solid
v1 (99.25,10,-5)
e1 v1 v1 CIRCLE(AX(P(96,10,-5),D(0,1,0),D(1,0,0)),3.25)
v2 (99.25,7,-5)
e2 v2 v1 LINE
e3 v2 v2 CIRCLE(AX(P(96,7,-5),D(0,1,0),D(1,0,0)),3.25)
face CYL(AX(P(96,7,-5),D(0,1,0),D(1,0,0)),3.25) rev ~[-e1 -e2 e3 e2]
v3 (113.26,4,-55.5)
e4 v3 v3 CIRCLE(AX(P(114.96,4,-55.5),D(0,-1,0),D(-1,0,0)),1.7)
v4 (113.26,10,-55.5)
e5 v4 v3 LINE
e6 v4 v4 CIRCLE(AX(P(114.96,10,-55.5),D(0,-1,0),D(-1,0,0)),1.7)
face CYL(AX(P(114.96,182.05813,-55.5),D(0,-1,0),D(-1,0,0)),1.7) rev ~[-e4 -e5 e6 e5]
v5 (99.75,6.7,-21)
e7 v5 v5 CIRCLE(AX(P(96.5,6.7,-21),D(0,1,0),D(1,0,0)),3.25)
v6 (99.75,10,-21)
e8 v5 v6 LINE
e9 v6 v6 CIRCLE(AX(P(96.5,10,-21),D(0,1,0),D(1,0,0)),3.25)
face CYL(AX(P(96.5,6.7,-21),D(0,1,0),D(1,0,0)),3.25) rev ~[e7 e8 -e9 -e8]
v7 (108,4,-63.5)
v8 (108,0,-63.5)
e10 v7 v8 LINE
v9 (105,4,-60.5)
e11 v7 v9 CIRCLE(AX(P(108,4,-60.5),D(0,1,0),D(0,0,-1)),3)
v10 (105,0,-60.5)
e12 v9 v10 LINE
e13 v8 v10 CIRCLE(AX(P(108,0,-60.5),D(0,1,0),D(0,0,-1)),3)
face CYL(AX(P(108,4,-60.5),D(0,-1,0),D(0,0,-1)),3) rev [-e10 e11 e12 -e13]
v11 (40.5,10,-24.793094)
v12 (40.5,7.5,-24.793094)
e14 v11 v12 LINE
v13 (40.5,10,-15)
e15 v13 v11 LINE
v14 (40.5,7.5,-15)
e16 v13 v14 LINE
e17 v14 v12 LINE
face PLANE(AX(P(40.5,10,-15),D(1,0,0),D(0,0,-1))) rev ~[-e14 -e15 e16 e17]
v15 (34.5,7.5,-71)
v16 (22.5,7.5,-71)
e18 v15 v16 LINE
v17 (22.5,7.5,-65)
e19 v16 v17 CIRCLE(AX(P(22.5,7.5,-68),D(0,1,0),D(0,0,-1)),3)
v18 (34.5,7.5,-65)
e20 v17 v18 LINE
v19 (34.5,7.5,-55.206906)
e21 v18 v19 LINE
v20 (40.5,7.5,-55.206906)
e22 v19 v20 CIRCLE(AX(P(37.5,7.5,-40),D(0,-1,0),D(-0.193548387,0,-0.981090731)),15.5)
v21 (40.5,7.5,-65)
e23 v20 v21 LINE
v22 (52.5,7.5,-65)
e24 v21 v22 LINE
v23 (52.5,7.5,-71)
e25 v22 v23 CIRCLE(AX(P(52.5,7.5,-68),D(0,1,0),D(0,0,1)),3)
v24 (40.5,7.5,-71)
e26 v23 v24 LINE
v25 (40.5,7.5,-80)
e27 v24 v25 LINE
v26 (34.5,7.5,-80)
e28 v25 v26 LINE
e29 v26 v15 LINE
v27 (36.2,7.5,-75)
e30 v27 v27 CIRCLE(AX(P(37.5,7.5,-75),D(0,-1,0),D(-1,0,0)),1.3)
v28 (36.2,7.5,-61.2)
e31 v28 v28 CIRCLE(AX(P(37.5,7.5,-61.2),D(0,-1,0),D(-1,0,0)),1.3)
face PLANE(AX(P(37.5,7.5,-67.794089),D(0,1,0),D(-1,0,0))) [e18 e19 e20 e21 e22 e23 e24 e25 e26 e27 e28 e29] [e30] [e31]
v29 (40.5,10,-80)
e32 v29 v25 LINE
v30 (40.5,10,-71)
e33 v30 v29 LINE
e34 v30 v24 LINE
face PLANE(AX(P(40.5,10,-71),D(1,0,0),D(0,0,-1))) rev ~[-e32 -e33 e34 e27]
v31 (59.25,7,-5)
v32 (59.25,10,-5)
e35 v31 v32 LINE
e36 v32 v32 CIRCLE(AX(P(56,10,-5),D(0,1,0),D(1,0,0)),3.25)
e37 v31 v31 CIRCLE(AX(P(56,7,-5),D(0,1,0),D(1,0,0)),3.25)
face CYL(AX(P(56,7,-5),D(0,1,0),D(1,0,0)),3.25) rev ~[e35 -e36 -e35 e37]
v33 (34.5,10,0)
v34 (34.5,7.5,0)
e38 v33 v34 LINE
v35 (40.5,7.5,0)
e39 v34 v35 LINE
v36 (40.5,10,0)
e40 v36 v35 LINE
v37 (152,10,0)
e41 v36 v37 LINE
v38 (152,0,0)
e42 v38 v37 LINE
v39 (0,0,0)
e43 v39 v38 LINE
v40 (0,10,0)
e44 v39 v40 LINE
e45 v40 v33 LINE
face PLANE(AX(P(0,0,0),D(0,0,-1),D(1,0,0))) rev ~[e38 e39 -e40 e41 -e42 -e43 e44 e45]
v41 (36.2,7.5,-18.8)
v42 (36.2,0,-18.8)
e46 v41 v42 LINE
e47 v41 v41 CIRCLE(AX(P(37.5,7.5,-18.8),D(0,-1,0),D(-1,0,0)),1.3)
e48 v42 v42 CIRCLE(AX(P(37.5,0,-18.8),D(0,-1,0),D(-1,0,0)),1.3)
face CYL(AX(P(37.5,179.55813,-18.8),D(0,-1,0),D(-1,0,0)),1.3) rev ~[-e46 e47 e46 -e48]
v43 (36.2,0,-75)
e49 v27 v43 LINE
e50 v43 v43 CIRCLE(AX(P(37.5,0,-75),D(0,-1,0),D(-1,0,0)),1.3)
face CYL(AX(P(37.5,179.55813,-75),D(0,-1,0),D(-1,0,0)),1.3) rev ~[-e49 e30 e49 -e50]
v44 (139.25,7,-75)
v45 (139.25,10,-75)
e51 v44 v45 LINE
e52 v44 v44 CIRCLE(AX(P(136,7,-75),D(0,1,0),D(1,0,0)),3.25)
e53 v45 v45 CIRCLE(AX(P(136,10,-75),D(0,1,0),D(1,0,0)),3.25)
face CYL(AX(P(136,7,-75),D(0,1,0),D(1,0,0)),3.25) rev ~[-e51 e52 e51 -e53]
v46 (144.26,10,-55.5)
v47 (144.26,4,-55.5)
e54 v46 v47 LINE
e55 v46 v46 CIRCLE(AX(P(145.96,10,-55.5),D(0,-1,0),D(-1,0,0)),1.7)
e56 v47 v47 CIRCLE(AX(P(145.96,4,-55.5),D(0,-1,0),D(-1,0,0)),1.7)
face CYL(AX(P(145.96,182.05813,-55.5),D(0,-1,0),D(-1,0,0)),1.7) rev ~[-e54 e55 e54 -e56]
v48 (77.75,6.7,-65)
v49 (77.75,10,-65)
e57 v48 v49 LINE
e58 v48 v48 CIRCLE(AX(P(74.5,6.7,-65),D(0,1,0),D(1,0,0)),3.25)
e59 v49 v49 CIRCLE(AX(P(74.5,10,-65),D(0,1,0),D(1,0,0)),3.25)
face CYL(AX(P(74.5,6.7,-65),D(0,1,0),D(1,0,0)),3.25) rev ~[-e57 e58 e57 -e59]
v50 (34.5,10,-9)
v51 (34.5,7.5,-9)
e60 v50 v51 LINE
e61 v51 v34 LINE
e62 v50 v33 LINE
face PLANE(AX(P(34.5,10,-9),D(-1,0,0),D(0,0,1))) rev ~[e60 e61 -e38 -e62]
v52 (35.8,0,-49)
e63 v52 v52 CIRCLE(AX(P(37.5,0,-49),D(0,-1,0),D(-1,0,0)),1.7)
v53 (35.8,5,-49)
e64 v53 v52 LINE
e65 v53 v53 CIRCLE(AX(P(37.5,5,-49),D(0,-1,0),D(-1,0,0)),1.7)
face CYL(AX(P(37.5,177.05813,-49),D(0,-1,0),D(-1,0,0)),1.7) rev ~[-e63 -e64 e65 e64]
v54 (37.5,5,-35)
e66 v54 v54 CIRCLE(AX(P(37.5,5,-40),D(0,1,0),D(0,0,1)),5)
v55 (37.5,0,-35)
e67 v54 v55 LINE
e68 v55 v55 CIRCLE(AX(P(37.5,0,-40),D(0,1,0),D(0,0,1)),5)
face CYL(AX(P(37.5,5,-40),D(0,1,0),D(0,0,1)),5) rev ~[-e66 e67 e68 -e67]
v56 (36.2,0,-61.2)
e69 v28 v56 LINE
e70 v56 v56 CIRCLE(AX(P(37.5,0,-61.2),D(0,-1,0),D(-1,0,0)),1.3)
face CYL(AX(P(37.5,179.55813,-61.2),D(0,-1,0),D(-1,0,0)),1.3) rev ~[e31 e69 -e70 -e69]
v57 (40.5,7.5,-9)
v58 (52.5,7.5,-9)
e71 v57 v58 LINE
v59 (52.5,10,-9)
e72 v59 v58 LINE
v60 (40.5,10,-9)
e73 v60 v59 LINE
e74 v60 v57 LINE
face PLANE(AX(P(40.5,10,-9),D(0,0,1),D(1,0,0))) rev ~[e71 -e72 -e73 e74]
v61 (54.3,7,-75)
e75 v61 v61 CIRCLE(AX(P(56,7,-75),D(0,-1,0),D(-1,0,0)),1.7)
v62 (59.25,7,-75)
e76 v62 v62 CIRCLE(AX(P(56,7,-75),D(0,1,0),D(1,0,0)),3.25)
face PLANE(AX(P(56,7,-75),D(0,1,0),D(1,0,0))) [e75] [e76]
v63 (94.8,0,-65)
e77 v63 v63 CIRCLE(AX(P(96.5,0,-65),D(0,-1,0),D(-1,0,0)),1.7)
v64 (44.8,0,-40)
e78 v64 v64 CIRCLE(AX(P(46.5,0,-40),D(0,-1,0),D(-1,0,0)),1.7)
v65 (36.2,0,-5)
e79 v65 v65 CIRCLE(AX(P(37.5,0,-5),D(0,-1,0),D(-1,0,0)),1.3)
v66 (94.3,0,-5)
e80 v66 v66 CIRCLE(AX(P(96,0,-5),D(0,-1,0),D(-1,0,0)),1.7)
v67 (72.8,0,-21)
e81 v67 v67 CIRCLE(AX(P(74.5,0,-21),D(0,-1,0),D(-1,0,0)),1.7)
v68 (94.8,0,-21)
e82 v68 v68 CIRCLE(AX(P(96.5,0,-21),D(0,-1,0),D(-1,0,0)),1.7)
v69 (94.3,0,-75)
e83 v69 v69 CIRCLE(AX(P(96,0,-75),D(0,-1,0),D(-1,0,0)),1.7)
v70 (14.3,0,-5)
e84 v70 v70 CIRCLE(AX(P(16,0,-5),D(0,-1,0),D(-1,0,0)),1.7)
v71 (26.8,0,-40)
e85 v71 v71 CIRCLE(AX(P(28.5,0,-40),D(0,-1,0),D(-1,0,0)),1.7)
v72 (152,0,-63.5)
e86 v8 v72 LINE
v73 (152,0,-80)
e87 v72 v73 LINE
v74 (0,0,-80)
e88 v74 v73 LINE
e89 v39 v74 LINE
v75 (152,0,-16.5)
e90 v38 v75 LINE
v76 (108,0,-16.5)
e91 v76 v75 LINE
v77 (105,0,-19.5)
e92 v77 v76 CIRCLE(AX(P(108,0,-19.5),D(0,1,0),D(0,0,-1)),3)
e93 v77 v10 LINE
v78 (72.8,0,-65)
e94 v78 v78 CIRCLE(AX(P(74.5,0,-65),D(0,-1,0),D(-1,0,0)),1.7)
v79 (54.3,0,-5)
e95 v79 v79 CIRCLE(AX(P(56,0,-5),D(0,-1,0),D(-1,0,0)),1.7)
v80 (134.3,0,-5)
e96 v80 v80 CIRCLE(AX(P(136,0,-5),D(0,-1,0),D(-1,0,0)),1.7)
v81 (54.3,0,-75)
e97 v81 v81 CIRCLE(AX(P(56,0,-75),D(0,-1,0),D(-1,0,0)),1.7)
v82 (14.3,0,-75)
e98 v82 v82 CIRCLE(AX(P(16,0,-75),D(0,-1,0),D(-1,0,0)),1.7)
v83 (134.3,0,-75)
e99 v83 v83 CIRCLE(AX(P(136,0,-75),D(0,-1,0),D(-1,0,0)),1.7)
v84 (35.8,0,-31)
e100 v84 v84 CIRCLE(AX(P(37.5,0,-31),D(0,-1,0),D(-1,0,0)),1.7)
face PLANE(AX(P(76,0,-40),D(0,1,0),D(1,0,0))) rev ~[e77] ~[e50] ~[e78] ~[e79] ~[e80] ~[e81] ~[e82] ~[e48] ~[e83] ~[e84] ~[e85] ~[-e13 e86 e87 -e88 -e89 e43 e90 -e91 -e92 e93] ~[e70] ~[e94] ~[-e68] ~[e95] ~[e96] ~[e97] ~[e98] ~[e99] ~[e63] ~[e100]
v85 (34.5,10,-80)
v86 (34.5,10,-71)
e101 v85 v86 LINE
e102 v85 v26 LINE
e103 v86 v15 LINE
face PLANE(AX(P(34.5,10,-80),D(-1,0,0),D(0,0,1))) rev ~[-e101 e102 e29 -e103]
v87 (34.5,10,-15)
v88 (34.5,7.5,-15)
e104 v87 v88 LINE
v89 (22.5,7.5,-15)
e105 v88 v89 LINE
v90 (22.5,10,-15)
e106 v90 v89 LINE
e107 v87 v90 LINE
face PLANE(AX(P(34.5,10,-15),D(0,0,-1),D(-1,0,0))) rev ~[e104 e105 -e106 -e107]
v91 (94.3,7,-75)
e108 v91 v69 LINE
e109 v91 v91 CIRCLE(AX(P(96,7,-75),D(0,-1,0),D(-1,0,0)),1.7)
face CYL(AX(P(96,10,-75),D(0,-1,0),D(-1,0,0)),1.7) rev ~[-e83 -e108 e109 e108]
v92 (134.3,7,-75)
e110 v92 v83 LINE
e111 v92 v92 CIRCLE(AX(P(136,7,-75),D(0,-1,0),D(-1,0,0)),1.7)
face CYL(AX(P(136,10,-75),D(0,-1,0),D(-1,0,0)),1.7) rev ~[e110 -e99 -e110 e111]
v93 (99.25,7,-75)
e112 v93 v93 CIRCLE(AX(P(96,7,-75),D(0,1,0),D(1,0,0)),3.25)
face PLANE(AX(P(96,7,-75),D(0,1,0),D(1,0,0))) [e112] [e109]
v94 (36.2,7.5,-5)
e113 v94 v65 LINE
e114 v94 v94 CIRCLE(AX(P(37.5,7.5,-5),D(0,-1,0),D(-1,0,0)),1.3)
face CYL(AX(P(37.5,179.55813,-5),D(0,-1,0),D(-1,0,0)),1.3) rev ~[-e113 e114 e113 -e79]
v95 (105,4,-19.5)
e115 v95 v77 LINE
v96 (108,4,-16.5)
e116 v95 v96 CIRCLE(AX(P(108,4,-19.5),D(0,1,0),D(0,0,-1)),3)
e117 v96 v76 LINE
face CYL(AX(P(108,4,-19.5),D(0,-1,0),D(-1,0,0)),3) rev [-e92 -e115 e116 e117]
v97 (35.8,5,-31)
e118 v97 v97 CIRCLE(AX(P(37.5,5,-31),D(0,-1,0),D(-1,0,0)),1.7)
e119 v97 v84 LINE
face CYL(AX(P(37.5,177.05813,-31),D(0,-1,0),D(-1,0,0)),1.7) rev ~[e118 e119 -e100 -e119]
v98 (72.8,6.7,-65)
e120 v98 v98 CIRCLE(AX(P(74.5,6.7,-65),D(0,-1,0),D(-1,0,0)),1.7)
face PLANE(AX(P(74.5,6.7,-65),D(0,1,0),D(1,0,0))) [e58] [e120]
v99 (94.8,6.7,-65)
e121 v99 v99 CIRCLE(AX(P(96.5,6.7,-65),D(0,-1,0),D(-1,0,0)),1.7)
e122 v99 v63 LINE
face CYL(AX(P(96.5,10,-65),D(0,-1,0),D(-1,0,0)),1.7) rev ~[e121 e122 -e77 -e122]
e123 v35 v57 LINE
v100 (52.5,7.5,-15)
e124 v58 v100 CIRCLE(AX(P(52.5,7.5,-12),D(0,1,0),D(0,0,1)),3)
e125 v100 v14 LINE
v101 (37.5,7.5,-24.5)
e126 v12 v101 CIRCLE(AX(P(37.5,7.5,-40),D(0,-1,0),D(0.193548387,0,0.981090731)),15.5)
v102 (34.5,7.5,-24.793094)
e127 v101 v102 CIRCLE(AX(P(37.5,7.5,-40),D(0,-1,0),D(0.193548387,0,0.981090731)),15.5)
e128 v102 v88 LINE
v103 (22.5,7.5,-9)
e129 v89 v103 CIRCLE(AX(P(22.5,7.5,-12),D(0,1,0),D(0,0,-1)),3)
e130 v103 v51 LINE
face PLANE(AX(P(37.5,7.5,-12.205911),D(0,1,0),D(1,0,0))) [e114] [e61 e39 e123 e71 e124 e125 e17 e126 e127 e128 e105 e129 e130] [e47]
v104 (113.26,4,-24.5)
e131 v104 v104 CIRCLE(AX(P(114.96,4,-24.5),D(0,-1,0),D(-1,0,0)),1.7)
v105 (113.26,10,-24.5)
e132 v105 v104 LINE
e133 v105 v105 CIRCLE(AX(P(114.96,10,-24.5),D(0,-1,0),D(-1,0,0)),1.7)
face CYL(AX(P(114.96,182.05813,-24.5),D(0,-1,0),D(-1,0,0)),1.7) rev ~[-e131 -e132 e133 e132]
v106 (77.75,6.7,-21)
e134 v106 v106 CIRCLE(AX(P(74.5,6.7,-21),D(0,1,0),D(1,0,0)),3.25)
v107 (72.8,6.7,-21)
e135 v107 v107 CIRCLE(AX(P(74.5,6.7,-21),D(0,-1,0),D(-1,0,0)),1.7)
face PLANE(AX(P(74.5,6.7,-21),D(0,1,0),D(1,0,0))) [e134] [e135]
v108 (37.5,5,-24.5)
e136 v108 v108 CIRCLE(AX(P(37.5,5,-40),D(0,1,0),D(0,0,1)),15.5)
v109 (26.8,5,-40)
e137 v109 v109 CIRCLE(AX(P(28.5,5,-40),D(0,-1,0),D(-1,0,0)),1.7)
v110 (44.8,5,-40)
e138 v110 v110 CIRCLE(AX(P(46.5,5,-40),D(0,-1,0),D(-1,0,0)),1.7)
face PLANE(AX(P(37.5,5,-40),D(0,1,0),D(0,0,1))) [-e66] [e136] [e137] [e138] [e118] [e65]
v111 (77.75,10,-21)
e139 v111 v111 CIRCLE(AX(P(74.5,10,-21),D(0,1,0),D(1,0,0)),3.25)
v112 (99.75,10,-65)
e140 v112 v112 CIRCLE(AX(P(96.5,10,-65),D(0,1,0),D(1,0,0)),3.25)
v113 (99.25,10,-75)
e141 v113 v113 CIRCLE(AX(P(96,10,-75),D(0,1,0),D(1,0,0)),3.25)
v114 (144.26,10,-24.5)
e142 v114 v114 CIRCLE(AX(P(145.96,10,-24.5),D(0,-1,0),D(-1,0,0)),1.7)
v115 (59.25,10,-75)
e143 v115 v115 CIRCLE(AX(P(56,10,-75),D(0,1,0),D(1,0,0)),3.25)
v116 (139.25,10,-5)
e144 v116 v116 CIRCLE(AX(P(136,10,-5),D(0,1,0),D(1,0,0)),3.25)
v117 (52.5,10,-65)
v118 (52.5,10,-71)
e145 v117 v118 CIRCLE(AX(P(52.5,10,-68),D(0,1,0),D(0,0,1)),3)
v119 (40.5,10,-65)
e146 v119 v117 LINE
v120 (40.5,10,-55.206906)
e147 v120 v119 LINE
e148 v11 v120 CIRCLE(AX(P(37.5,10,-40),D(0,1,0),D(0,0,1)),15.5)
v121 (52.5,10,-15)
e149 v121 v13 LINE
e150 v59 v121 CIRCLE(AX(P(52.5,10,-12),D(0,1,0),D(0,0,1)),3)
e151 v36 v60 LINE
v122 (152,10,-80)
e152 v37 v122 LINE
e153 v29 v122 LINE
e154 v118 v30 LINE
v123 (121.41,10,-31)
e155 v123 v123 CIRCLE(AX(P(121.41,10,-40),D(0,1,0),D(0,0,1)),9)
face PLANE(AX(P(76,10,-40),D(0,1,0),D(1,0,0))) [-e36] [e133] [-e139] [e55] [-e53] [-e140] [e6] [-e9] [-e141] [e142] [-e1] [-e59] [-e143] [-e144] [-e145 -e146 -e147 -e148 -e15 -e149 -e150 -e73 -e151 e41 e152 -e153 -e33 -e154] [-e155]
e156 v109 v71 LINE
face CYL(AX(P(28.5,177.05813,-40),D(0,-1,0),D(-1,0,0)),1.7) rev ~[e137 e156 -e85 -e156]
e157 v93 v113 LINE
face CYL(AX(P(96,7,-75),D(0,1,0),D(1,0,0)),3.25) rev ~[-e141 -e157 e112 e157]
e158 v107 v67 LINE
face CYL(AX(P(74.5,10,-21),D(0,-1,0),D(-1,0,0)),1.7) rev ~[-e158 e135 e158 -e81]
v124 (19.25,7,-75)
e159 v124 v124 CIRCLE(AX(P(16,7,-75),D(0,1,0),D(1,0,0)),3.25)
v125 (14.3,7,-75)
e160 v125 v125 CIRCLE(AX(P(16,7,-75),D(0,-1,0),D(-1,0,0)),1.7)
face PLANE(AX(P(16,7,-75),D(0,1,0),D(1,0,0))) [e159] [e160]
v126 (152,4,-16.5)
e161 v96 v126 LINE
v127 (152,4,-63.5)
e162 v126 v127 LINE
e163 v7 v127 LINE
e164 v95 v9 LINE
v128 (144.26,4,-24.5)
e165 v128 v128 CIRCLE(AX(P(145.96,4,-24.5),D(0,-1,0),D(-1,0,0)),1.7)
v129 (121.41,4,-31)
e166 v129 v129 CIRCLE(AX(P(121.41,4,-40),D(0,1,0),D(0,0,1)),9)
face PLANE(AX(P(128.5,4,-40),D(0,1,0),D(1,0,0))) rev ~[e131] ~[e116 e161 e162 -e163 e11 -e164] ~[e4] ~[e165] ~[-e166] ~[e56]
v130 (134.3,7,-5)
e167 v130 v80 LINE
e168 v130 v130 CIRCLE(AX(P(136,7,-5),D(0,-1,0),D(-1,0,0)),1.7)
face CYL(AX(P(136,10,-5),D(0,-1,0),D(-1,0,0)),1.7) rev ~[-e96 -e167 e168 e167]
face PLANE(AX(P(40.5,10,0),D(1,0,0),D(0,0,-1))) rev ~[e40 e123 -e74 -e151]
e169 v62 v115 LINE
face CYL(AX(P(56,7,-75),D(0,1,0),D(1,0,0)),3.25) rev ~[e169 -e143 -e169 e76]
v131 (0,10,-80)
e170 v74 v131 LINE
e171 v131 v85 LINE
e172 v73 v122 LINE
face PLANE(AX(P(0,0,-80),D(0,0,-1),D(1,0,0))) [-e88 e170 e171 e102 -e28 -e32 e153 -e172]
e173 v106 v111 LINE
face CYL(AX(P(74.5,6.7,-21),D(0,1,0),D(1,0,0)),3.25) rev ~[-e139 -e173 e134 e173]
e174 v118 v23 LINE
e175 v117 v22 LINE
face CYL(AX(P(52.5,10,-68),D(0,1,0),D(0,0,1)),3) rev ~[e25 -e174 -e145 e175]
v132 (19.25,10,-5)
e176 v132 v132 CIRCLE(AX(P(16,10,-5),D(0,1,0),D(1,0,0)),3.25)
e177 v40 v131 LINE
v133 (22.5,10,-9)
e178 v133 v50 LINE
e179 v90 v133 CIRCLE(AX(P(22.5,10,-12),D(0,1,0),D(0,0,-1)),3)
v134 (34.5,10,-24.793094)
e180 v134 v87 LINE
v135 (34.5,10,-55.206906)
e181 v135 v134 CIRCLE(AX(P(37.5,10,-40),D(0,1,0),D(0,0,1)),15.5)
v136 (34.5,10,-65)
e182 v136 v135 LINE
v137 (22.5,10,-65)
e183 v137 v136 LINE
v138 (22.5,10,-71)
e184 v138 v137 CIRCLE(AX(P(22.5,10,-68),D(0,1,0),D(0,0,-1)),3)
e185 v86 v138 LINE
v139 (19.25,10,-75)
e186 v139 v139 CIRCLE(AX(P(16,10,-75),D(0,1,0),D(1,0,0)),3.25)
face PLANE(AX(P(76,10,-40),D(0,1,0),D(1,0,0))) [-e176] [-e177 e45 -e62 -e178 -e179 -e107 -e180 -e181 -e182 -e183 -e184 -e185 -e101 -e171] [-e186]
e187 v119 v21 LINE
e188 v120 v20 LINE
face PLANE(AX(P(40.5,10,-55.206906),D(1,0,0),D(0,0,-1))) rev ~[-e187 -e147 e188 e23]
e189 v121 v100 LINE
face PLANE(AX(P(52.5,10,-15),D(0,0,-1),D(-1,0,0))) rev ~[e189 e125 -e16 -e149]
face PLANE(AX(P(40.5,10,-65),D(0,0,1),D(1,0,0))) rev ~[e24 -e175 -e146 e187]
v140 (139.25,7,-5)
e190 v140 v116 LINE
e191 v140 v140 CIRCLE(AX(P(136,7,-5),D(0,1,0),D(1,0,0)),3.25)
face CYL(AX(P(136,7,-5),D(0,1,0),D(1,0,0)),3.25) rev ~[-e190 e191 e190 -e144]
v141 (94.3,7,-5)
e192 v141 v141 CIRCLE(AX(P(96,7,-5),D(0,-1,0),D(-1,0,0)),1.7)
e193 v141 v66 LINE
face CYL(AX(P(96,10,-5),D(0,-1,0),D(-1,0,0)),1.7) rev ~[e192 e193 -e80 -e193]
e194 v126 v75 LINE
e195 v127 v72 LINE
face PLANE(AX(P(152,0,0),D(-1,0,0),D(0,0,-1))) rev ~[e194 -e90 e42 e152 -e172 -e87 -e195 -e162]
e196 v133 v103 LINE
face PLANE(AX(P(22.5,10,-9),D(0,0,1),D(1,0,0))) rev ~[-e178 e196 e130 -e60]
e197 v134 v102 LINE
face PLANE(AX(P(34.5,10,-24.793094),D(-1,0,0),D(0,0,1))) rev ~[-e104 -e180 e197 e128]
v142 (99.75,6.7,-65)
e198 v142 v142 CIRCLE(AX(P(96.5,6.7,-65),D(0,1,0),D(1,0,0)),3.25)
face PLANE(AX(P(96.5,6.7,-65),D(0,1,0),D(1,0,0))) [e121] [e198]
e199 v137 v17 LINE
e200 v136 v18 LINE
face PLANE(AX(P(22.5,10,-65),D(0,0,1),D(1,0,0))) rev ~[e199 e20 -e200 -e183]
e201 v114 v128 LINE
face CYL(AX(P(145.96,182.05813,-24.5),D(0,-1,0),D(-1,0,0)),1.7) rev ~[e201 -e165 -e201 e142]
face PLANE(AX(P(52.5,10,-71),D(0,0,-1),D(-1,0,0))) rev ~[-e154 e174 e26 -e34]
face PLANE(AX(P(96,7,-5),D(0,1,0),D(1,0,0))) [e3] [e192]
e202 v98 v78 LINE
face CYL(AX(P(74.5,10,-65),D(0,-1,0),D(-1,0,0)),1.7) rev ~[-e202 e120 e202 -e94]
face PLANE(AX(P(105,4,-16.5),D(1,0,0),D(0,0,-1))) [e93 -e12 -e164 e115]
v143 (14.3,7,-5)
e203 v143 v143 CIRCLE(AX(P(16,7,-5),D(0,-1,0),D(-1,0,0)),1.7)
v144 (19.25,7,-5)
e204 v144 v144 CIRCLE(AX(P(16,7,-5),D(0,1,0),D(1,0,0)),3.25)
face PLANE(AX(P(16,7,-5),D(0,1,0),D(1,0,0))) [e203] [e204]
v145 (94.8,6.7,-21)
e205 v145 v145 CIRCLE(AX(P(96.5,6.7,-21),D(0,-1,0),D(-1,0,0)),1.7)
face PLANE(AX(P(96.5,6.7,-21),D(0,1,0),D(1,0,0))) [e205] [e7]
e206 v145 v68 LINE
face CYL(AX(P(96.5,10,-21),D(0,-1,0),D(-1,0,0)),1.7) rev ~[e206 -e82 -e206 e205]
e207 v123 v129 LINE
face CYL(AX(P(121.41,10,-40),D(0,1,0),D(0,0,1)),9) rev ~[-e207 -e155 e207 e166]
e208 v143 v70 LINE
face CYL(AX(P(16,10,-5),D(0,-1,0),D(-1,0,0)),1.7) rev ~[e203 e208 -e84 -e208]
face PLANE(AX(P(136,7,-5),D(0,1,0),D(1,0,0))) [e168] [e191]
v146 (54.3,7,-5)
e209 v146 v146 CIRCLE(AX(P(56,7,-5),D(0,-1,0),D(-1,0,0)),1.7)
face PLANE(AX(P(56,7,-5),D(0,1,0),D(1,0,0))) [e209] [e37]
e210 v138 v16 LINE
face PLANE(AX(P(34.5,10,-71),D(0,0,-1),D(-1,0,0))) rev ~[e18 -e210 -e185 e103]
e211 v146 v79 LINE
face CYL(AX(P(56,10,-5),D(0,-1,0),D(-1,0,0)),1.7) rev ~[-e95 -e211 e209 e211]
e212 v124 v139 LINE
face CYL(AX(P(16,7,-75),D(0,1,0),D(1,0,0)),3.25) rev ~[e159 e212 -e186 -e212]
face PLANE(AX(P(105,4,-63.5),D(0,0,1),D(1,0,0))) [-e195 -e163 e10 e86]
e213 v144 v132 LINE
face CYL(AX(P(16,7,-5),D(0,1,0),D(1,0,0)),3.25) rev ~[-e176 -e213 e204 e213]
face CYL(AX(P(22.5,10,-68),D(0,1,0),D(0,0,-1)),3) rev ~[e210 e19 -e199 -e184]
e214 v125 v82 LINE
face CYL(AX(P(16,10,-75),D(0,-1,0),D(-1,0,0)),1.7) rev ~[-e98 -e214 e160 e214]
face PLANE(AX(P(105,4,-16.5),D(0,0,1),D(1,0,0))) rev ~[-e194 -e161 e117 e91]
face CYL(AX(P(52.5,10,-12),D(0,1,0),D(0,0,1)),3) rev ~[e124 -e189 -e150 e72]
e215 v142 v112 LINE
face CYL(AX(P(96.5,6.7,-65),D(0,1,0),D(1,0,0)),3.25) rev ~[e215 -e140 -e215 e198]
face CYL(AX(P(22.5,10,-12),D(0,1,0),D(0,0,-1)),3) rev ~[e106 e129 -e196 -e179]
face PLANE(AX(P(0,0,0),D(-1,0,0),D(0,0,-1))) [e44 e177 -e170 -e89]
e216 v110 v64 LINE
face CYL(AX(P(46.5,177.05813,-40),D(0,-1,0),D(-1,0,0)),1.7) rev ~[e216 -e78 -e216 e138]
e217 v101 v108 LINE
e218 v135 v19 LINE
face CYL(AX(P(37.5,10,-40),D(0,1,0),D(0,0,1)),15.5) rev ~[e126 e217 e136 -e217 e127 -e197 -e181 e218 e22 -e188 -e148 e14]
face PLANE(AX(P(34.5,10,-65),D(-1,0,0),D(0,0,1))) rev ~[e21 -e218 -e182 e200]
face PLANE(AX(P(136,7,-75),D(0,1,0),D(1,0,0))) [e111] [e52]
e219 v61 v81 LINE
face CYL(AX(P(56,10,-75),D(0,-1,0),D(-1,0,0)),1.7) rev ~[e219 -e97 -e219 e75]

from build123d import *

# Parameters (mm, degrees)
SKETCH1_W                                = 152
SKETCH1_H                                = 80
BOSS_EXTRUDE1_DEPTH                      = 10
SKETCH2_R                                = 15.5
CUT_EXTRUDE1_DEPTH                       = 5
SKETCH3_R                                = 5
CUT_EXTRUDE2_DEPTH                       = 5
CUT_EXTRUDE3_DEPTH                       = 2.5
CIRPATTERN1_COUNT                        = 2
SKETCH5_R                                = 9
CUT_EXTRUDE4_DEPTH                       = 6
SKETCH6_W                                = 47
SKETCH6_H                                = 47
CUT_EXTRUDE5_DEPTH                       = 4
FILLET1_R                                = 3
CBORE_FOR_M3_PAN_HEAD_SCREW1_D           = 3.4
CBORE_FOR_M3_PAN_HEAD_SCREW1_CBORE_D     = 6.5
CBORE_FOR_M3_PAN_HEAD_SCREW1_CBORE_DEPTH = 3
CBORE_FOR_M3_PAN_HEAD_SCREW2_D           = 3.4
CBORE_FOR_M3_PAN_HEAD_SCREW2_CBORE_D     = 6.5
CBORE_FOR_M3_PAN_HEAD_SCREW2_CBORE_DEPTH = 3.3
TAP_DRILL_FOR_M3X0_5_TAP1_D              = 2.6
TAP_DRILL_FOR_M3X0_5_TAP2_D              = 3.4
TAP_DRILL_FOR_M3X0_5_TAP3_D              = 3.4


with BuildPart() as part:
    # Sketch1 → Boss-Extrude1 (new body)
    with BuildSketch(Plane(origin=(0, 0, 0), x_dir=(1, 0, 0), z_dir=(0, 1, 0))):
        with Locations((76, 40)):
            Rectangle(SKETCH1_W, SKETCH1_H)
    extrude(amount=BOSS_EXTRUDE1_DEPTH)

    # Sketch2 → Cut-Extrude1 (cut)
    with BuildSketch(Plane(origin=(0, 10, 0), x_dir=(1, 0, 0), z_dir=(0, 1, 0))):
        with Locations(Location((37.5, 40, 0), (0, 0, 270))):
            Circle(SKETCH2_R)
    extrude(amount=-CUT_EXTRUDE1_DEPTH, mode=Mode.SUBTRACT)

    # Sketch3 → Cut-Extrude2 (cut)
    with BuildSketch(Plane(origin=(0, 5, 0), x_dir=(1, 0, 0), z_dir=(0, 1, 0))):
        with Locations(Location((37.5, 40, 0), (0, 0, 270))):
            Circle(SKETCH3_R)
    extrude(amount=-CUT_EXTRUDE2_DEPTH, mode=Mode.SUBTRACT)

    # Sketch4 → Cut-Extrude3 (cut)
    with BuildSketch(Plane(origin=(0, 10, 0), x_dir=(1, 0, 0), z_dir=(0, 1, 0))):
        with BuildLine():
            Line((34.5, 24.793093674), (34.5, 15))
            Line((34.5, 15), (22.5, 15))
            ThreePointArc((22.5, 15), (19.5, 12), (22.5, 9))
            Line((22.5, 9), (34.5, 9))
            Line((34.5, 9), (34.5, 0))
            Line((34.5, 0), (40.5, 0))
            Line((40.5, 0), (40.5, 9))
            Line((40.5, 9), (52.5, 9))
            ThreePointArc((52.5, 9), (55.5, 12), (52.5, 15))
            Line((52.5, 15), (40.5, 15))
            Line((40.5, 15), (40.5, 24.793093674))
            ThreePointArc((40.5, 24.793093674), (37.5, 24.5), (34.5, 24.793093674))
        make_face()
    cut_extrude3 = extrude(amount=-CUT_EXTRUDE3_DEPTH, mode=Mode.SUBTRACT)

    # CirPattern1: Cut-Extrude3 ×2 about axis
    cirpattern1_axis = Axis((37.5, 0, -40), (0, 1, 0))
    for i in range(1, CIRPATTERN1_COUNT):
        add(cut_extrude3.rotate(cirpattern1_axis, i * 360 / CIRPATTERN1_COUNT), mode=Mode.SUBTRACT)

    # Sketch5 → Cut-Extrude4 (cut)
    with BuildSketch(Plane(origin=(0, 10, 0), x_dir=(1, 0, 0), z_dir=(0, 1, 0))):
        with Locations(Location((121.41, 40, 0), (0, 0, 270))):
            Circle(SKETCH5_R)
    extrude(amount=-CUT_EXTRUDE4_DEPTH, mode=Mode.SUBTRACT)

    # Sketch6 → Cut-Extrude5 (cut)
    with BuildSketch(Plane(origin=(0, 4, 0), x_dir=(1, 0, 0), z_dir=(0, 1, 0))):
        with Locations((128.5, 40)):
            Rectangle(SKETCH6_W, SKETCH6_H)
    extrude(amount=-CUT_EXTRUDE5_DEPTH, mode=Mode.SUBTRACT)

    # Fillet1
    fillet1_edges = [part.edges().sort_by_distance(p)[0] for p in [
        (105, 2, -16.5),
        (105, 2, -63.5),
    ]]
    fillet(fillet1_edges, radius=FILLET1_R)

    # CBORE for M3 Pan Head Screw1 (through all)
    with Locations(Plane(origin=(0, 10, 0), x_dir=(1, 0, 0), z_dir=(0, 1, 0))):
        with Locations((16, 75), (56, 75), (16, 5), (56, 5), (96, 75), (96, 5), (136, 5), (136, 75)):
            CounterBoreHole(CBORE_FOR_M3_PAN_HEAD_SCREW1_D / 2, CBORE_FOR_M3_PAN_HEAD_SCREW1_CBORE_D / 2, CBORE_FOR_M3_PAN_HEAD_SCREW1_CBORE_DEPTH)

    # CBORE for M3 Pan Head Screw2 (through all)
    with Locations(Plane(origin=(0, 10, 0), x_dir=(1, 0, 0), z_dir=(0, 1, 0))):
        with Locations((96.5, 65), (96.5, 21), (74.5, 21), (74.5, 65)):
            CounterBoreHole(CBORE_FOR_M3_PAN_HEAD_SCREW2_D / 2, CBORE_FOR_M3_PAN_HEAD_SCREW2_CBORE_D / 2, CBORE_FOR_M3_PAN_HEAD_SCREW2_CBORE_DEPTH)

    # Tap Drill for M3x0.5 Tap1 (through all)
    with Locations(Plane(origin=(0, 7.5, 0), x_dir=(1, 0, 0), z_dir=(0, 1, 0))):
        with Locations((37.5, 75), (37.5, 61.2), (37.5, 18.8), (37.5, 5)):
            Hole(TAP_DRILL_FOR_M3X0_5_TAP1_D / 2)

    # Tap Drill for M3x0.5 Tap2 (through all)
    with Locations(Plane(origin=(0, 10, 0), x_dir=(1, 0, 0), z_dir=(0, 1, 0))):
        with Locations((114.96, 55.5), (145.96, 55.5), (114.96, 24.5), (145.96, 24.5)):
            Hole(TAP_DRILL_FOR_M3X0_5_TAP2_D / 2)

    # Tap Drill for M3x0.5 Tap3 (through all)
    with Locations(Plane(origin=(0, 5, 0), x_dir=(1, 0, 0), z_dir=(0, 1, 0))):
        with Locations((37.5, 49), (46.5, 40), (28.5, 40), (37.5, 31)):
            Hole(TAP_DRILL_FOR_M3X0_5_TAP3_D / 2)


solid = part.part
